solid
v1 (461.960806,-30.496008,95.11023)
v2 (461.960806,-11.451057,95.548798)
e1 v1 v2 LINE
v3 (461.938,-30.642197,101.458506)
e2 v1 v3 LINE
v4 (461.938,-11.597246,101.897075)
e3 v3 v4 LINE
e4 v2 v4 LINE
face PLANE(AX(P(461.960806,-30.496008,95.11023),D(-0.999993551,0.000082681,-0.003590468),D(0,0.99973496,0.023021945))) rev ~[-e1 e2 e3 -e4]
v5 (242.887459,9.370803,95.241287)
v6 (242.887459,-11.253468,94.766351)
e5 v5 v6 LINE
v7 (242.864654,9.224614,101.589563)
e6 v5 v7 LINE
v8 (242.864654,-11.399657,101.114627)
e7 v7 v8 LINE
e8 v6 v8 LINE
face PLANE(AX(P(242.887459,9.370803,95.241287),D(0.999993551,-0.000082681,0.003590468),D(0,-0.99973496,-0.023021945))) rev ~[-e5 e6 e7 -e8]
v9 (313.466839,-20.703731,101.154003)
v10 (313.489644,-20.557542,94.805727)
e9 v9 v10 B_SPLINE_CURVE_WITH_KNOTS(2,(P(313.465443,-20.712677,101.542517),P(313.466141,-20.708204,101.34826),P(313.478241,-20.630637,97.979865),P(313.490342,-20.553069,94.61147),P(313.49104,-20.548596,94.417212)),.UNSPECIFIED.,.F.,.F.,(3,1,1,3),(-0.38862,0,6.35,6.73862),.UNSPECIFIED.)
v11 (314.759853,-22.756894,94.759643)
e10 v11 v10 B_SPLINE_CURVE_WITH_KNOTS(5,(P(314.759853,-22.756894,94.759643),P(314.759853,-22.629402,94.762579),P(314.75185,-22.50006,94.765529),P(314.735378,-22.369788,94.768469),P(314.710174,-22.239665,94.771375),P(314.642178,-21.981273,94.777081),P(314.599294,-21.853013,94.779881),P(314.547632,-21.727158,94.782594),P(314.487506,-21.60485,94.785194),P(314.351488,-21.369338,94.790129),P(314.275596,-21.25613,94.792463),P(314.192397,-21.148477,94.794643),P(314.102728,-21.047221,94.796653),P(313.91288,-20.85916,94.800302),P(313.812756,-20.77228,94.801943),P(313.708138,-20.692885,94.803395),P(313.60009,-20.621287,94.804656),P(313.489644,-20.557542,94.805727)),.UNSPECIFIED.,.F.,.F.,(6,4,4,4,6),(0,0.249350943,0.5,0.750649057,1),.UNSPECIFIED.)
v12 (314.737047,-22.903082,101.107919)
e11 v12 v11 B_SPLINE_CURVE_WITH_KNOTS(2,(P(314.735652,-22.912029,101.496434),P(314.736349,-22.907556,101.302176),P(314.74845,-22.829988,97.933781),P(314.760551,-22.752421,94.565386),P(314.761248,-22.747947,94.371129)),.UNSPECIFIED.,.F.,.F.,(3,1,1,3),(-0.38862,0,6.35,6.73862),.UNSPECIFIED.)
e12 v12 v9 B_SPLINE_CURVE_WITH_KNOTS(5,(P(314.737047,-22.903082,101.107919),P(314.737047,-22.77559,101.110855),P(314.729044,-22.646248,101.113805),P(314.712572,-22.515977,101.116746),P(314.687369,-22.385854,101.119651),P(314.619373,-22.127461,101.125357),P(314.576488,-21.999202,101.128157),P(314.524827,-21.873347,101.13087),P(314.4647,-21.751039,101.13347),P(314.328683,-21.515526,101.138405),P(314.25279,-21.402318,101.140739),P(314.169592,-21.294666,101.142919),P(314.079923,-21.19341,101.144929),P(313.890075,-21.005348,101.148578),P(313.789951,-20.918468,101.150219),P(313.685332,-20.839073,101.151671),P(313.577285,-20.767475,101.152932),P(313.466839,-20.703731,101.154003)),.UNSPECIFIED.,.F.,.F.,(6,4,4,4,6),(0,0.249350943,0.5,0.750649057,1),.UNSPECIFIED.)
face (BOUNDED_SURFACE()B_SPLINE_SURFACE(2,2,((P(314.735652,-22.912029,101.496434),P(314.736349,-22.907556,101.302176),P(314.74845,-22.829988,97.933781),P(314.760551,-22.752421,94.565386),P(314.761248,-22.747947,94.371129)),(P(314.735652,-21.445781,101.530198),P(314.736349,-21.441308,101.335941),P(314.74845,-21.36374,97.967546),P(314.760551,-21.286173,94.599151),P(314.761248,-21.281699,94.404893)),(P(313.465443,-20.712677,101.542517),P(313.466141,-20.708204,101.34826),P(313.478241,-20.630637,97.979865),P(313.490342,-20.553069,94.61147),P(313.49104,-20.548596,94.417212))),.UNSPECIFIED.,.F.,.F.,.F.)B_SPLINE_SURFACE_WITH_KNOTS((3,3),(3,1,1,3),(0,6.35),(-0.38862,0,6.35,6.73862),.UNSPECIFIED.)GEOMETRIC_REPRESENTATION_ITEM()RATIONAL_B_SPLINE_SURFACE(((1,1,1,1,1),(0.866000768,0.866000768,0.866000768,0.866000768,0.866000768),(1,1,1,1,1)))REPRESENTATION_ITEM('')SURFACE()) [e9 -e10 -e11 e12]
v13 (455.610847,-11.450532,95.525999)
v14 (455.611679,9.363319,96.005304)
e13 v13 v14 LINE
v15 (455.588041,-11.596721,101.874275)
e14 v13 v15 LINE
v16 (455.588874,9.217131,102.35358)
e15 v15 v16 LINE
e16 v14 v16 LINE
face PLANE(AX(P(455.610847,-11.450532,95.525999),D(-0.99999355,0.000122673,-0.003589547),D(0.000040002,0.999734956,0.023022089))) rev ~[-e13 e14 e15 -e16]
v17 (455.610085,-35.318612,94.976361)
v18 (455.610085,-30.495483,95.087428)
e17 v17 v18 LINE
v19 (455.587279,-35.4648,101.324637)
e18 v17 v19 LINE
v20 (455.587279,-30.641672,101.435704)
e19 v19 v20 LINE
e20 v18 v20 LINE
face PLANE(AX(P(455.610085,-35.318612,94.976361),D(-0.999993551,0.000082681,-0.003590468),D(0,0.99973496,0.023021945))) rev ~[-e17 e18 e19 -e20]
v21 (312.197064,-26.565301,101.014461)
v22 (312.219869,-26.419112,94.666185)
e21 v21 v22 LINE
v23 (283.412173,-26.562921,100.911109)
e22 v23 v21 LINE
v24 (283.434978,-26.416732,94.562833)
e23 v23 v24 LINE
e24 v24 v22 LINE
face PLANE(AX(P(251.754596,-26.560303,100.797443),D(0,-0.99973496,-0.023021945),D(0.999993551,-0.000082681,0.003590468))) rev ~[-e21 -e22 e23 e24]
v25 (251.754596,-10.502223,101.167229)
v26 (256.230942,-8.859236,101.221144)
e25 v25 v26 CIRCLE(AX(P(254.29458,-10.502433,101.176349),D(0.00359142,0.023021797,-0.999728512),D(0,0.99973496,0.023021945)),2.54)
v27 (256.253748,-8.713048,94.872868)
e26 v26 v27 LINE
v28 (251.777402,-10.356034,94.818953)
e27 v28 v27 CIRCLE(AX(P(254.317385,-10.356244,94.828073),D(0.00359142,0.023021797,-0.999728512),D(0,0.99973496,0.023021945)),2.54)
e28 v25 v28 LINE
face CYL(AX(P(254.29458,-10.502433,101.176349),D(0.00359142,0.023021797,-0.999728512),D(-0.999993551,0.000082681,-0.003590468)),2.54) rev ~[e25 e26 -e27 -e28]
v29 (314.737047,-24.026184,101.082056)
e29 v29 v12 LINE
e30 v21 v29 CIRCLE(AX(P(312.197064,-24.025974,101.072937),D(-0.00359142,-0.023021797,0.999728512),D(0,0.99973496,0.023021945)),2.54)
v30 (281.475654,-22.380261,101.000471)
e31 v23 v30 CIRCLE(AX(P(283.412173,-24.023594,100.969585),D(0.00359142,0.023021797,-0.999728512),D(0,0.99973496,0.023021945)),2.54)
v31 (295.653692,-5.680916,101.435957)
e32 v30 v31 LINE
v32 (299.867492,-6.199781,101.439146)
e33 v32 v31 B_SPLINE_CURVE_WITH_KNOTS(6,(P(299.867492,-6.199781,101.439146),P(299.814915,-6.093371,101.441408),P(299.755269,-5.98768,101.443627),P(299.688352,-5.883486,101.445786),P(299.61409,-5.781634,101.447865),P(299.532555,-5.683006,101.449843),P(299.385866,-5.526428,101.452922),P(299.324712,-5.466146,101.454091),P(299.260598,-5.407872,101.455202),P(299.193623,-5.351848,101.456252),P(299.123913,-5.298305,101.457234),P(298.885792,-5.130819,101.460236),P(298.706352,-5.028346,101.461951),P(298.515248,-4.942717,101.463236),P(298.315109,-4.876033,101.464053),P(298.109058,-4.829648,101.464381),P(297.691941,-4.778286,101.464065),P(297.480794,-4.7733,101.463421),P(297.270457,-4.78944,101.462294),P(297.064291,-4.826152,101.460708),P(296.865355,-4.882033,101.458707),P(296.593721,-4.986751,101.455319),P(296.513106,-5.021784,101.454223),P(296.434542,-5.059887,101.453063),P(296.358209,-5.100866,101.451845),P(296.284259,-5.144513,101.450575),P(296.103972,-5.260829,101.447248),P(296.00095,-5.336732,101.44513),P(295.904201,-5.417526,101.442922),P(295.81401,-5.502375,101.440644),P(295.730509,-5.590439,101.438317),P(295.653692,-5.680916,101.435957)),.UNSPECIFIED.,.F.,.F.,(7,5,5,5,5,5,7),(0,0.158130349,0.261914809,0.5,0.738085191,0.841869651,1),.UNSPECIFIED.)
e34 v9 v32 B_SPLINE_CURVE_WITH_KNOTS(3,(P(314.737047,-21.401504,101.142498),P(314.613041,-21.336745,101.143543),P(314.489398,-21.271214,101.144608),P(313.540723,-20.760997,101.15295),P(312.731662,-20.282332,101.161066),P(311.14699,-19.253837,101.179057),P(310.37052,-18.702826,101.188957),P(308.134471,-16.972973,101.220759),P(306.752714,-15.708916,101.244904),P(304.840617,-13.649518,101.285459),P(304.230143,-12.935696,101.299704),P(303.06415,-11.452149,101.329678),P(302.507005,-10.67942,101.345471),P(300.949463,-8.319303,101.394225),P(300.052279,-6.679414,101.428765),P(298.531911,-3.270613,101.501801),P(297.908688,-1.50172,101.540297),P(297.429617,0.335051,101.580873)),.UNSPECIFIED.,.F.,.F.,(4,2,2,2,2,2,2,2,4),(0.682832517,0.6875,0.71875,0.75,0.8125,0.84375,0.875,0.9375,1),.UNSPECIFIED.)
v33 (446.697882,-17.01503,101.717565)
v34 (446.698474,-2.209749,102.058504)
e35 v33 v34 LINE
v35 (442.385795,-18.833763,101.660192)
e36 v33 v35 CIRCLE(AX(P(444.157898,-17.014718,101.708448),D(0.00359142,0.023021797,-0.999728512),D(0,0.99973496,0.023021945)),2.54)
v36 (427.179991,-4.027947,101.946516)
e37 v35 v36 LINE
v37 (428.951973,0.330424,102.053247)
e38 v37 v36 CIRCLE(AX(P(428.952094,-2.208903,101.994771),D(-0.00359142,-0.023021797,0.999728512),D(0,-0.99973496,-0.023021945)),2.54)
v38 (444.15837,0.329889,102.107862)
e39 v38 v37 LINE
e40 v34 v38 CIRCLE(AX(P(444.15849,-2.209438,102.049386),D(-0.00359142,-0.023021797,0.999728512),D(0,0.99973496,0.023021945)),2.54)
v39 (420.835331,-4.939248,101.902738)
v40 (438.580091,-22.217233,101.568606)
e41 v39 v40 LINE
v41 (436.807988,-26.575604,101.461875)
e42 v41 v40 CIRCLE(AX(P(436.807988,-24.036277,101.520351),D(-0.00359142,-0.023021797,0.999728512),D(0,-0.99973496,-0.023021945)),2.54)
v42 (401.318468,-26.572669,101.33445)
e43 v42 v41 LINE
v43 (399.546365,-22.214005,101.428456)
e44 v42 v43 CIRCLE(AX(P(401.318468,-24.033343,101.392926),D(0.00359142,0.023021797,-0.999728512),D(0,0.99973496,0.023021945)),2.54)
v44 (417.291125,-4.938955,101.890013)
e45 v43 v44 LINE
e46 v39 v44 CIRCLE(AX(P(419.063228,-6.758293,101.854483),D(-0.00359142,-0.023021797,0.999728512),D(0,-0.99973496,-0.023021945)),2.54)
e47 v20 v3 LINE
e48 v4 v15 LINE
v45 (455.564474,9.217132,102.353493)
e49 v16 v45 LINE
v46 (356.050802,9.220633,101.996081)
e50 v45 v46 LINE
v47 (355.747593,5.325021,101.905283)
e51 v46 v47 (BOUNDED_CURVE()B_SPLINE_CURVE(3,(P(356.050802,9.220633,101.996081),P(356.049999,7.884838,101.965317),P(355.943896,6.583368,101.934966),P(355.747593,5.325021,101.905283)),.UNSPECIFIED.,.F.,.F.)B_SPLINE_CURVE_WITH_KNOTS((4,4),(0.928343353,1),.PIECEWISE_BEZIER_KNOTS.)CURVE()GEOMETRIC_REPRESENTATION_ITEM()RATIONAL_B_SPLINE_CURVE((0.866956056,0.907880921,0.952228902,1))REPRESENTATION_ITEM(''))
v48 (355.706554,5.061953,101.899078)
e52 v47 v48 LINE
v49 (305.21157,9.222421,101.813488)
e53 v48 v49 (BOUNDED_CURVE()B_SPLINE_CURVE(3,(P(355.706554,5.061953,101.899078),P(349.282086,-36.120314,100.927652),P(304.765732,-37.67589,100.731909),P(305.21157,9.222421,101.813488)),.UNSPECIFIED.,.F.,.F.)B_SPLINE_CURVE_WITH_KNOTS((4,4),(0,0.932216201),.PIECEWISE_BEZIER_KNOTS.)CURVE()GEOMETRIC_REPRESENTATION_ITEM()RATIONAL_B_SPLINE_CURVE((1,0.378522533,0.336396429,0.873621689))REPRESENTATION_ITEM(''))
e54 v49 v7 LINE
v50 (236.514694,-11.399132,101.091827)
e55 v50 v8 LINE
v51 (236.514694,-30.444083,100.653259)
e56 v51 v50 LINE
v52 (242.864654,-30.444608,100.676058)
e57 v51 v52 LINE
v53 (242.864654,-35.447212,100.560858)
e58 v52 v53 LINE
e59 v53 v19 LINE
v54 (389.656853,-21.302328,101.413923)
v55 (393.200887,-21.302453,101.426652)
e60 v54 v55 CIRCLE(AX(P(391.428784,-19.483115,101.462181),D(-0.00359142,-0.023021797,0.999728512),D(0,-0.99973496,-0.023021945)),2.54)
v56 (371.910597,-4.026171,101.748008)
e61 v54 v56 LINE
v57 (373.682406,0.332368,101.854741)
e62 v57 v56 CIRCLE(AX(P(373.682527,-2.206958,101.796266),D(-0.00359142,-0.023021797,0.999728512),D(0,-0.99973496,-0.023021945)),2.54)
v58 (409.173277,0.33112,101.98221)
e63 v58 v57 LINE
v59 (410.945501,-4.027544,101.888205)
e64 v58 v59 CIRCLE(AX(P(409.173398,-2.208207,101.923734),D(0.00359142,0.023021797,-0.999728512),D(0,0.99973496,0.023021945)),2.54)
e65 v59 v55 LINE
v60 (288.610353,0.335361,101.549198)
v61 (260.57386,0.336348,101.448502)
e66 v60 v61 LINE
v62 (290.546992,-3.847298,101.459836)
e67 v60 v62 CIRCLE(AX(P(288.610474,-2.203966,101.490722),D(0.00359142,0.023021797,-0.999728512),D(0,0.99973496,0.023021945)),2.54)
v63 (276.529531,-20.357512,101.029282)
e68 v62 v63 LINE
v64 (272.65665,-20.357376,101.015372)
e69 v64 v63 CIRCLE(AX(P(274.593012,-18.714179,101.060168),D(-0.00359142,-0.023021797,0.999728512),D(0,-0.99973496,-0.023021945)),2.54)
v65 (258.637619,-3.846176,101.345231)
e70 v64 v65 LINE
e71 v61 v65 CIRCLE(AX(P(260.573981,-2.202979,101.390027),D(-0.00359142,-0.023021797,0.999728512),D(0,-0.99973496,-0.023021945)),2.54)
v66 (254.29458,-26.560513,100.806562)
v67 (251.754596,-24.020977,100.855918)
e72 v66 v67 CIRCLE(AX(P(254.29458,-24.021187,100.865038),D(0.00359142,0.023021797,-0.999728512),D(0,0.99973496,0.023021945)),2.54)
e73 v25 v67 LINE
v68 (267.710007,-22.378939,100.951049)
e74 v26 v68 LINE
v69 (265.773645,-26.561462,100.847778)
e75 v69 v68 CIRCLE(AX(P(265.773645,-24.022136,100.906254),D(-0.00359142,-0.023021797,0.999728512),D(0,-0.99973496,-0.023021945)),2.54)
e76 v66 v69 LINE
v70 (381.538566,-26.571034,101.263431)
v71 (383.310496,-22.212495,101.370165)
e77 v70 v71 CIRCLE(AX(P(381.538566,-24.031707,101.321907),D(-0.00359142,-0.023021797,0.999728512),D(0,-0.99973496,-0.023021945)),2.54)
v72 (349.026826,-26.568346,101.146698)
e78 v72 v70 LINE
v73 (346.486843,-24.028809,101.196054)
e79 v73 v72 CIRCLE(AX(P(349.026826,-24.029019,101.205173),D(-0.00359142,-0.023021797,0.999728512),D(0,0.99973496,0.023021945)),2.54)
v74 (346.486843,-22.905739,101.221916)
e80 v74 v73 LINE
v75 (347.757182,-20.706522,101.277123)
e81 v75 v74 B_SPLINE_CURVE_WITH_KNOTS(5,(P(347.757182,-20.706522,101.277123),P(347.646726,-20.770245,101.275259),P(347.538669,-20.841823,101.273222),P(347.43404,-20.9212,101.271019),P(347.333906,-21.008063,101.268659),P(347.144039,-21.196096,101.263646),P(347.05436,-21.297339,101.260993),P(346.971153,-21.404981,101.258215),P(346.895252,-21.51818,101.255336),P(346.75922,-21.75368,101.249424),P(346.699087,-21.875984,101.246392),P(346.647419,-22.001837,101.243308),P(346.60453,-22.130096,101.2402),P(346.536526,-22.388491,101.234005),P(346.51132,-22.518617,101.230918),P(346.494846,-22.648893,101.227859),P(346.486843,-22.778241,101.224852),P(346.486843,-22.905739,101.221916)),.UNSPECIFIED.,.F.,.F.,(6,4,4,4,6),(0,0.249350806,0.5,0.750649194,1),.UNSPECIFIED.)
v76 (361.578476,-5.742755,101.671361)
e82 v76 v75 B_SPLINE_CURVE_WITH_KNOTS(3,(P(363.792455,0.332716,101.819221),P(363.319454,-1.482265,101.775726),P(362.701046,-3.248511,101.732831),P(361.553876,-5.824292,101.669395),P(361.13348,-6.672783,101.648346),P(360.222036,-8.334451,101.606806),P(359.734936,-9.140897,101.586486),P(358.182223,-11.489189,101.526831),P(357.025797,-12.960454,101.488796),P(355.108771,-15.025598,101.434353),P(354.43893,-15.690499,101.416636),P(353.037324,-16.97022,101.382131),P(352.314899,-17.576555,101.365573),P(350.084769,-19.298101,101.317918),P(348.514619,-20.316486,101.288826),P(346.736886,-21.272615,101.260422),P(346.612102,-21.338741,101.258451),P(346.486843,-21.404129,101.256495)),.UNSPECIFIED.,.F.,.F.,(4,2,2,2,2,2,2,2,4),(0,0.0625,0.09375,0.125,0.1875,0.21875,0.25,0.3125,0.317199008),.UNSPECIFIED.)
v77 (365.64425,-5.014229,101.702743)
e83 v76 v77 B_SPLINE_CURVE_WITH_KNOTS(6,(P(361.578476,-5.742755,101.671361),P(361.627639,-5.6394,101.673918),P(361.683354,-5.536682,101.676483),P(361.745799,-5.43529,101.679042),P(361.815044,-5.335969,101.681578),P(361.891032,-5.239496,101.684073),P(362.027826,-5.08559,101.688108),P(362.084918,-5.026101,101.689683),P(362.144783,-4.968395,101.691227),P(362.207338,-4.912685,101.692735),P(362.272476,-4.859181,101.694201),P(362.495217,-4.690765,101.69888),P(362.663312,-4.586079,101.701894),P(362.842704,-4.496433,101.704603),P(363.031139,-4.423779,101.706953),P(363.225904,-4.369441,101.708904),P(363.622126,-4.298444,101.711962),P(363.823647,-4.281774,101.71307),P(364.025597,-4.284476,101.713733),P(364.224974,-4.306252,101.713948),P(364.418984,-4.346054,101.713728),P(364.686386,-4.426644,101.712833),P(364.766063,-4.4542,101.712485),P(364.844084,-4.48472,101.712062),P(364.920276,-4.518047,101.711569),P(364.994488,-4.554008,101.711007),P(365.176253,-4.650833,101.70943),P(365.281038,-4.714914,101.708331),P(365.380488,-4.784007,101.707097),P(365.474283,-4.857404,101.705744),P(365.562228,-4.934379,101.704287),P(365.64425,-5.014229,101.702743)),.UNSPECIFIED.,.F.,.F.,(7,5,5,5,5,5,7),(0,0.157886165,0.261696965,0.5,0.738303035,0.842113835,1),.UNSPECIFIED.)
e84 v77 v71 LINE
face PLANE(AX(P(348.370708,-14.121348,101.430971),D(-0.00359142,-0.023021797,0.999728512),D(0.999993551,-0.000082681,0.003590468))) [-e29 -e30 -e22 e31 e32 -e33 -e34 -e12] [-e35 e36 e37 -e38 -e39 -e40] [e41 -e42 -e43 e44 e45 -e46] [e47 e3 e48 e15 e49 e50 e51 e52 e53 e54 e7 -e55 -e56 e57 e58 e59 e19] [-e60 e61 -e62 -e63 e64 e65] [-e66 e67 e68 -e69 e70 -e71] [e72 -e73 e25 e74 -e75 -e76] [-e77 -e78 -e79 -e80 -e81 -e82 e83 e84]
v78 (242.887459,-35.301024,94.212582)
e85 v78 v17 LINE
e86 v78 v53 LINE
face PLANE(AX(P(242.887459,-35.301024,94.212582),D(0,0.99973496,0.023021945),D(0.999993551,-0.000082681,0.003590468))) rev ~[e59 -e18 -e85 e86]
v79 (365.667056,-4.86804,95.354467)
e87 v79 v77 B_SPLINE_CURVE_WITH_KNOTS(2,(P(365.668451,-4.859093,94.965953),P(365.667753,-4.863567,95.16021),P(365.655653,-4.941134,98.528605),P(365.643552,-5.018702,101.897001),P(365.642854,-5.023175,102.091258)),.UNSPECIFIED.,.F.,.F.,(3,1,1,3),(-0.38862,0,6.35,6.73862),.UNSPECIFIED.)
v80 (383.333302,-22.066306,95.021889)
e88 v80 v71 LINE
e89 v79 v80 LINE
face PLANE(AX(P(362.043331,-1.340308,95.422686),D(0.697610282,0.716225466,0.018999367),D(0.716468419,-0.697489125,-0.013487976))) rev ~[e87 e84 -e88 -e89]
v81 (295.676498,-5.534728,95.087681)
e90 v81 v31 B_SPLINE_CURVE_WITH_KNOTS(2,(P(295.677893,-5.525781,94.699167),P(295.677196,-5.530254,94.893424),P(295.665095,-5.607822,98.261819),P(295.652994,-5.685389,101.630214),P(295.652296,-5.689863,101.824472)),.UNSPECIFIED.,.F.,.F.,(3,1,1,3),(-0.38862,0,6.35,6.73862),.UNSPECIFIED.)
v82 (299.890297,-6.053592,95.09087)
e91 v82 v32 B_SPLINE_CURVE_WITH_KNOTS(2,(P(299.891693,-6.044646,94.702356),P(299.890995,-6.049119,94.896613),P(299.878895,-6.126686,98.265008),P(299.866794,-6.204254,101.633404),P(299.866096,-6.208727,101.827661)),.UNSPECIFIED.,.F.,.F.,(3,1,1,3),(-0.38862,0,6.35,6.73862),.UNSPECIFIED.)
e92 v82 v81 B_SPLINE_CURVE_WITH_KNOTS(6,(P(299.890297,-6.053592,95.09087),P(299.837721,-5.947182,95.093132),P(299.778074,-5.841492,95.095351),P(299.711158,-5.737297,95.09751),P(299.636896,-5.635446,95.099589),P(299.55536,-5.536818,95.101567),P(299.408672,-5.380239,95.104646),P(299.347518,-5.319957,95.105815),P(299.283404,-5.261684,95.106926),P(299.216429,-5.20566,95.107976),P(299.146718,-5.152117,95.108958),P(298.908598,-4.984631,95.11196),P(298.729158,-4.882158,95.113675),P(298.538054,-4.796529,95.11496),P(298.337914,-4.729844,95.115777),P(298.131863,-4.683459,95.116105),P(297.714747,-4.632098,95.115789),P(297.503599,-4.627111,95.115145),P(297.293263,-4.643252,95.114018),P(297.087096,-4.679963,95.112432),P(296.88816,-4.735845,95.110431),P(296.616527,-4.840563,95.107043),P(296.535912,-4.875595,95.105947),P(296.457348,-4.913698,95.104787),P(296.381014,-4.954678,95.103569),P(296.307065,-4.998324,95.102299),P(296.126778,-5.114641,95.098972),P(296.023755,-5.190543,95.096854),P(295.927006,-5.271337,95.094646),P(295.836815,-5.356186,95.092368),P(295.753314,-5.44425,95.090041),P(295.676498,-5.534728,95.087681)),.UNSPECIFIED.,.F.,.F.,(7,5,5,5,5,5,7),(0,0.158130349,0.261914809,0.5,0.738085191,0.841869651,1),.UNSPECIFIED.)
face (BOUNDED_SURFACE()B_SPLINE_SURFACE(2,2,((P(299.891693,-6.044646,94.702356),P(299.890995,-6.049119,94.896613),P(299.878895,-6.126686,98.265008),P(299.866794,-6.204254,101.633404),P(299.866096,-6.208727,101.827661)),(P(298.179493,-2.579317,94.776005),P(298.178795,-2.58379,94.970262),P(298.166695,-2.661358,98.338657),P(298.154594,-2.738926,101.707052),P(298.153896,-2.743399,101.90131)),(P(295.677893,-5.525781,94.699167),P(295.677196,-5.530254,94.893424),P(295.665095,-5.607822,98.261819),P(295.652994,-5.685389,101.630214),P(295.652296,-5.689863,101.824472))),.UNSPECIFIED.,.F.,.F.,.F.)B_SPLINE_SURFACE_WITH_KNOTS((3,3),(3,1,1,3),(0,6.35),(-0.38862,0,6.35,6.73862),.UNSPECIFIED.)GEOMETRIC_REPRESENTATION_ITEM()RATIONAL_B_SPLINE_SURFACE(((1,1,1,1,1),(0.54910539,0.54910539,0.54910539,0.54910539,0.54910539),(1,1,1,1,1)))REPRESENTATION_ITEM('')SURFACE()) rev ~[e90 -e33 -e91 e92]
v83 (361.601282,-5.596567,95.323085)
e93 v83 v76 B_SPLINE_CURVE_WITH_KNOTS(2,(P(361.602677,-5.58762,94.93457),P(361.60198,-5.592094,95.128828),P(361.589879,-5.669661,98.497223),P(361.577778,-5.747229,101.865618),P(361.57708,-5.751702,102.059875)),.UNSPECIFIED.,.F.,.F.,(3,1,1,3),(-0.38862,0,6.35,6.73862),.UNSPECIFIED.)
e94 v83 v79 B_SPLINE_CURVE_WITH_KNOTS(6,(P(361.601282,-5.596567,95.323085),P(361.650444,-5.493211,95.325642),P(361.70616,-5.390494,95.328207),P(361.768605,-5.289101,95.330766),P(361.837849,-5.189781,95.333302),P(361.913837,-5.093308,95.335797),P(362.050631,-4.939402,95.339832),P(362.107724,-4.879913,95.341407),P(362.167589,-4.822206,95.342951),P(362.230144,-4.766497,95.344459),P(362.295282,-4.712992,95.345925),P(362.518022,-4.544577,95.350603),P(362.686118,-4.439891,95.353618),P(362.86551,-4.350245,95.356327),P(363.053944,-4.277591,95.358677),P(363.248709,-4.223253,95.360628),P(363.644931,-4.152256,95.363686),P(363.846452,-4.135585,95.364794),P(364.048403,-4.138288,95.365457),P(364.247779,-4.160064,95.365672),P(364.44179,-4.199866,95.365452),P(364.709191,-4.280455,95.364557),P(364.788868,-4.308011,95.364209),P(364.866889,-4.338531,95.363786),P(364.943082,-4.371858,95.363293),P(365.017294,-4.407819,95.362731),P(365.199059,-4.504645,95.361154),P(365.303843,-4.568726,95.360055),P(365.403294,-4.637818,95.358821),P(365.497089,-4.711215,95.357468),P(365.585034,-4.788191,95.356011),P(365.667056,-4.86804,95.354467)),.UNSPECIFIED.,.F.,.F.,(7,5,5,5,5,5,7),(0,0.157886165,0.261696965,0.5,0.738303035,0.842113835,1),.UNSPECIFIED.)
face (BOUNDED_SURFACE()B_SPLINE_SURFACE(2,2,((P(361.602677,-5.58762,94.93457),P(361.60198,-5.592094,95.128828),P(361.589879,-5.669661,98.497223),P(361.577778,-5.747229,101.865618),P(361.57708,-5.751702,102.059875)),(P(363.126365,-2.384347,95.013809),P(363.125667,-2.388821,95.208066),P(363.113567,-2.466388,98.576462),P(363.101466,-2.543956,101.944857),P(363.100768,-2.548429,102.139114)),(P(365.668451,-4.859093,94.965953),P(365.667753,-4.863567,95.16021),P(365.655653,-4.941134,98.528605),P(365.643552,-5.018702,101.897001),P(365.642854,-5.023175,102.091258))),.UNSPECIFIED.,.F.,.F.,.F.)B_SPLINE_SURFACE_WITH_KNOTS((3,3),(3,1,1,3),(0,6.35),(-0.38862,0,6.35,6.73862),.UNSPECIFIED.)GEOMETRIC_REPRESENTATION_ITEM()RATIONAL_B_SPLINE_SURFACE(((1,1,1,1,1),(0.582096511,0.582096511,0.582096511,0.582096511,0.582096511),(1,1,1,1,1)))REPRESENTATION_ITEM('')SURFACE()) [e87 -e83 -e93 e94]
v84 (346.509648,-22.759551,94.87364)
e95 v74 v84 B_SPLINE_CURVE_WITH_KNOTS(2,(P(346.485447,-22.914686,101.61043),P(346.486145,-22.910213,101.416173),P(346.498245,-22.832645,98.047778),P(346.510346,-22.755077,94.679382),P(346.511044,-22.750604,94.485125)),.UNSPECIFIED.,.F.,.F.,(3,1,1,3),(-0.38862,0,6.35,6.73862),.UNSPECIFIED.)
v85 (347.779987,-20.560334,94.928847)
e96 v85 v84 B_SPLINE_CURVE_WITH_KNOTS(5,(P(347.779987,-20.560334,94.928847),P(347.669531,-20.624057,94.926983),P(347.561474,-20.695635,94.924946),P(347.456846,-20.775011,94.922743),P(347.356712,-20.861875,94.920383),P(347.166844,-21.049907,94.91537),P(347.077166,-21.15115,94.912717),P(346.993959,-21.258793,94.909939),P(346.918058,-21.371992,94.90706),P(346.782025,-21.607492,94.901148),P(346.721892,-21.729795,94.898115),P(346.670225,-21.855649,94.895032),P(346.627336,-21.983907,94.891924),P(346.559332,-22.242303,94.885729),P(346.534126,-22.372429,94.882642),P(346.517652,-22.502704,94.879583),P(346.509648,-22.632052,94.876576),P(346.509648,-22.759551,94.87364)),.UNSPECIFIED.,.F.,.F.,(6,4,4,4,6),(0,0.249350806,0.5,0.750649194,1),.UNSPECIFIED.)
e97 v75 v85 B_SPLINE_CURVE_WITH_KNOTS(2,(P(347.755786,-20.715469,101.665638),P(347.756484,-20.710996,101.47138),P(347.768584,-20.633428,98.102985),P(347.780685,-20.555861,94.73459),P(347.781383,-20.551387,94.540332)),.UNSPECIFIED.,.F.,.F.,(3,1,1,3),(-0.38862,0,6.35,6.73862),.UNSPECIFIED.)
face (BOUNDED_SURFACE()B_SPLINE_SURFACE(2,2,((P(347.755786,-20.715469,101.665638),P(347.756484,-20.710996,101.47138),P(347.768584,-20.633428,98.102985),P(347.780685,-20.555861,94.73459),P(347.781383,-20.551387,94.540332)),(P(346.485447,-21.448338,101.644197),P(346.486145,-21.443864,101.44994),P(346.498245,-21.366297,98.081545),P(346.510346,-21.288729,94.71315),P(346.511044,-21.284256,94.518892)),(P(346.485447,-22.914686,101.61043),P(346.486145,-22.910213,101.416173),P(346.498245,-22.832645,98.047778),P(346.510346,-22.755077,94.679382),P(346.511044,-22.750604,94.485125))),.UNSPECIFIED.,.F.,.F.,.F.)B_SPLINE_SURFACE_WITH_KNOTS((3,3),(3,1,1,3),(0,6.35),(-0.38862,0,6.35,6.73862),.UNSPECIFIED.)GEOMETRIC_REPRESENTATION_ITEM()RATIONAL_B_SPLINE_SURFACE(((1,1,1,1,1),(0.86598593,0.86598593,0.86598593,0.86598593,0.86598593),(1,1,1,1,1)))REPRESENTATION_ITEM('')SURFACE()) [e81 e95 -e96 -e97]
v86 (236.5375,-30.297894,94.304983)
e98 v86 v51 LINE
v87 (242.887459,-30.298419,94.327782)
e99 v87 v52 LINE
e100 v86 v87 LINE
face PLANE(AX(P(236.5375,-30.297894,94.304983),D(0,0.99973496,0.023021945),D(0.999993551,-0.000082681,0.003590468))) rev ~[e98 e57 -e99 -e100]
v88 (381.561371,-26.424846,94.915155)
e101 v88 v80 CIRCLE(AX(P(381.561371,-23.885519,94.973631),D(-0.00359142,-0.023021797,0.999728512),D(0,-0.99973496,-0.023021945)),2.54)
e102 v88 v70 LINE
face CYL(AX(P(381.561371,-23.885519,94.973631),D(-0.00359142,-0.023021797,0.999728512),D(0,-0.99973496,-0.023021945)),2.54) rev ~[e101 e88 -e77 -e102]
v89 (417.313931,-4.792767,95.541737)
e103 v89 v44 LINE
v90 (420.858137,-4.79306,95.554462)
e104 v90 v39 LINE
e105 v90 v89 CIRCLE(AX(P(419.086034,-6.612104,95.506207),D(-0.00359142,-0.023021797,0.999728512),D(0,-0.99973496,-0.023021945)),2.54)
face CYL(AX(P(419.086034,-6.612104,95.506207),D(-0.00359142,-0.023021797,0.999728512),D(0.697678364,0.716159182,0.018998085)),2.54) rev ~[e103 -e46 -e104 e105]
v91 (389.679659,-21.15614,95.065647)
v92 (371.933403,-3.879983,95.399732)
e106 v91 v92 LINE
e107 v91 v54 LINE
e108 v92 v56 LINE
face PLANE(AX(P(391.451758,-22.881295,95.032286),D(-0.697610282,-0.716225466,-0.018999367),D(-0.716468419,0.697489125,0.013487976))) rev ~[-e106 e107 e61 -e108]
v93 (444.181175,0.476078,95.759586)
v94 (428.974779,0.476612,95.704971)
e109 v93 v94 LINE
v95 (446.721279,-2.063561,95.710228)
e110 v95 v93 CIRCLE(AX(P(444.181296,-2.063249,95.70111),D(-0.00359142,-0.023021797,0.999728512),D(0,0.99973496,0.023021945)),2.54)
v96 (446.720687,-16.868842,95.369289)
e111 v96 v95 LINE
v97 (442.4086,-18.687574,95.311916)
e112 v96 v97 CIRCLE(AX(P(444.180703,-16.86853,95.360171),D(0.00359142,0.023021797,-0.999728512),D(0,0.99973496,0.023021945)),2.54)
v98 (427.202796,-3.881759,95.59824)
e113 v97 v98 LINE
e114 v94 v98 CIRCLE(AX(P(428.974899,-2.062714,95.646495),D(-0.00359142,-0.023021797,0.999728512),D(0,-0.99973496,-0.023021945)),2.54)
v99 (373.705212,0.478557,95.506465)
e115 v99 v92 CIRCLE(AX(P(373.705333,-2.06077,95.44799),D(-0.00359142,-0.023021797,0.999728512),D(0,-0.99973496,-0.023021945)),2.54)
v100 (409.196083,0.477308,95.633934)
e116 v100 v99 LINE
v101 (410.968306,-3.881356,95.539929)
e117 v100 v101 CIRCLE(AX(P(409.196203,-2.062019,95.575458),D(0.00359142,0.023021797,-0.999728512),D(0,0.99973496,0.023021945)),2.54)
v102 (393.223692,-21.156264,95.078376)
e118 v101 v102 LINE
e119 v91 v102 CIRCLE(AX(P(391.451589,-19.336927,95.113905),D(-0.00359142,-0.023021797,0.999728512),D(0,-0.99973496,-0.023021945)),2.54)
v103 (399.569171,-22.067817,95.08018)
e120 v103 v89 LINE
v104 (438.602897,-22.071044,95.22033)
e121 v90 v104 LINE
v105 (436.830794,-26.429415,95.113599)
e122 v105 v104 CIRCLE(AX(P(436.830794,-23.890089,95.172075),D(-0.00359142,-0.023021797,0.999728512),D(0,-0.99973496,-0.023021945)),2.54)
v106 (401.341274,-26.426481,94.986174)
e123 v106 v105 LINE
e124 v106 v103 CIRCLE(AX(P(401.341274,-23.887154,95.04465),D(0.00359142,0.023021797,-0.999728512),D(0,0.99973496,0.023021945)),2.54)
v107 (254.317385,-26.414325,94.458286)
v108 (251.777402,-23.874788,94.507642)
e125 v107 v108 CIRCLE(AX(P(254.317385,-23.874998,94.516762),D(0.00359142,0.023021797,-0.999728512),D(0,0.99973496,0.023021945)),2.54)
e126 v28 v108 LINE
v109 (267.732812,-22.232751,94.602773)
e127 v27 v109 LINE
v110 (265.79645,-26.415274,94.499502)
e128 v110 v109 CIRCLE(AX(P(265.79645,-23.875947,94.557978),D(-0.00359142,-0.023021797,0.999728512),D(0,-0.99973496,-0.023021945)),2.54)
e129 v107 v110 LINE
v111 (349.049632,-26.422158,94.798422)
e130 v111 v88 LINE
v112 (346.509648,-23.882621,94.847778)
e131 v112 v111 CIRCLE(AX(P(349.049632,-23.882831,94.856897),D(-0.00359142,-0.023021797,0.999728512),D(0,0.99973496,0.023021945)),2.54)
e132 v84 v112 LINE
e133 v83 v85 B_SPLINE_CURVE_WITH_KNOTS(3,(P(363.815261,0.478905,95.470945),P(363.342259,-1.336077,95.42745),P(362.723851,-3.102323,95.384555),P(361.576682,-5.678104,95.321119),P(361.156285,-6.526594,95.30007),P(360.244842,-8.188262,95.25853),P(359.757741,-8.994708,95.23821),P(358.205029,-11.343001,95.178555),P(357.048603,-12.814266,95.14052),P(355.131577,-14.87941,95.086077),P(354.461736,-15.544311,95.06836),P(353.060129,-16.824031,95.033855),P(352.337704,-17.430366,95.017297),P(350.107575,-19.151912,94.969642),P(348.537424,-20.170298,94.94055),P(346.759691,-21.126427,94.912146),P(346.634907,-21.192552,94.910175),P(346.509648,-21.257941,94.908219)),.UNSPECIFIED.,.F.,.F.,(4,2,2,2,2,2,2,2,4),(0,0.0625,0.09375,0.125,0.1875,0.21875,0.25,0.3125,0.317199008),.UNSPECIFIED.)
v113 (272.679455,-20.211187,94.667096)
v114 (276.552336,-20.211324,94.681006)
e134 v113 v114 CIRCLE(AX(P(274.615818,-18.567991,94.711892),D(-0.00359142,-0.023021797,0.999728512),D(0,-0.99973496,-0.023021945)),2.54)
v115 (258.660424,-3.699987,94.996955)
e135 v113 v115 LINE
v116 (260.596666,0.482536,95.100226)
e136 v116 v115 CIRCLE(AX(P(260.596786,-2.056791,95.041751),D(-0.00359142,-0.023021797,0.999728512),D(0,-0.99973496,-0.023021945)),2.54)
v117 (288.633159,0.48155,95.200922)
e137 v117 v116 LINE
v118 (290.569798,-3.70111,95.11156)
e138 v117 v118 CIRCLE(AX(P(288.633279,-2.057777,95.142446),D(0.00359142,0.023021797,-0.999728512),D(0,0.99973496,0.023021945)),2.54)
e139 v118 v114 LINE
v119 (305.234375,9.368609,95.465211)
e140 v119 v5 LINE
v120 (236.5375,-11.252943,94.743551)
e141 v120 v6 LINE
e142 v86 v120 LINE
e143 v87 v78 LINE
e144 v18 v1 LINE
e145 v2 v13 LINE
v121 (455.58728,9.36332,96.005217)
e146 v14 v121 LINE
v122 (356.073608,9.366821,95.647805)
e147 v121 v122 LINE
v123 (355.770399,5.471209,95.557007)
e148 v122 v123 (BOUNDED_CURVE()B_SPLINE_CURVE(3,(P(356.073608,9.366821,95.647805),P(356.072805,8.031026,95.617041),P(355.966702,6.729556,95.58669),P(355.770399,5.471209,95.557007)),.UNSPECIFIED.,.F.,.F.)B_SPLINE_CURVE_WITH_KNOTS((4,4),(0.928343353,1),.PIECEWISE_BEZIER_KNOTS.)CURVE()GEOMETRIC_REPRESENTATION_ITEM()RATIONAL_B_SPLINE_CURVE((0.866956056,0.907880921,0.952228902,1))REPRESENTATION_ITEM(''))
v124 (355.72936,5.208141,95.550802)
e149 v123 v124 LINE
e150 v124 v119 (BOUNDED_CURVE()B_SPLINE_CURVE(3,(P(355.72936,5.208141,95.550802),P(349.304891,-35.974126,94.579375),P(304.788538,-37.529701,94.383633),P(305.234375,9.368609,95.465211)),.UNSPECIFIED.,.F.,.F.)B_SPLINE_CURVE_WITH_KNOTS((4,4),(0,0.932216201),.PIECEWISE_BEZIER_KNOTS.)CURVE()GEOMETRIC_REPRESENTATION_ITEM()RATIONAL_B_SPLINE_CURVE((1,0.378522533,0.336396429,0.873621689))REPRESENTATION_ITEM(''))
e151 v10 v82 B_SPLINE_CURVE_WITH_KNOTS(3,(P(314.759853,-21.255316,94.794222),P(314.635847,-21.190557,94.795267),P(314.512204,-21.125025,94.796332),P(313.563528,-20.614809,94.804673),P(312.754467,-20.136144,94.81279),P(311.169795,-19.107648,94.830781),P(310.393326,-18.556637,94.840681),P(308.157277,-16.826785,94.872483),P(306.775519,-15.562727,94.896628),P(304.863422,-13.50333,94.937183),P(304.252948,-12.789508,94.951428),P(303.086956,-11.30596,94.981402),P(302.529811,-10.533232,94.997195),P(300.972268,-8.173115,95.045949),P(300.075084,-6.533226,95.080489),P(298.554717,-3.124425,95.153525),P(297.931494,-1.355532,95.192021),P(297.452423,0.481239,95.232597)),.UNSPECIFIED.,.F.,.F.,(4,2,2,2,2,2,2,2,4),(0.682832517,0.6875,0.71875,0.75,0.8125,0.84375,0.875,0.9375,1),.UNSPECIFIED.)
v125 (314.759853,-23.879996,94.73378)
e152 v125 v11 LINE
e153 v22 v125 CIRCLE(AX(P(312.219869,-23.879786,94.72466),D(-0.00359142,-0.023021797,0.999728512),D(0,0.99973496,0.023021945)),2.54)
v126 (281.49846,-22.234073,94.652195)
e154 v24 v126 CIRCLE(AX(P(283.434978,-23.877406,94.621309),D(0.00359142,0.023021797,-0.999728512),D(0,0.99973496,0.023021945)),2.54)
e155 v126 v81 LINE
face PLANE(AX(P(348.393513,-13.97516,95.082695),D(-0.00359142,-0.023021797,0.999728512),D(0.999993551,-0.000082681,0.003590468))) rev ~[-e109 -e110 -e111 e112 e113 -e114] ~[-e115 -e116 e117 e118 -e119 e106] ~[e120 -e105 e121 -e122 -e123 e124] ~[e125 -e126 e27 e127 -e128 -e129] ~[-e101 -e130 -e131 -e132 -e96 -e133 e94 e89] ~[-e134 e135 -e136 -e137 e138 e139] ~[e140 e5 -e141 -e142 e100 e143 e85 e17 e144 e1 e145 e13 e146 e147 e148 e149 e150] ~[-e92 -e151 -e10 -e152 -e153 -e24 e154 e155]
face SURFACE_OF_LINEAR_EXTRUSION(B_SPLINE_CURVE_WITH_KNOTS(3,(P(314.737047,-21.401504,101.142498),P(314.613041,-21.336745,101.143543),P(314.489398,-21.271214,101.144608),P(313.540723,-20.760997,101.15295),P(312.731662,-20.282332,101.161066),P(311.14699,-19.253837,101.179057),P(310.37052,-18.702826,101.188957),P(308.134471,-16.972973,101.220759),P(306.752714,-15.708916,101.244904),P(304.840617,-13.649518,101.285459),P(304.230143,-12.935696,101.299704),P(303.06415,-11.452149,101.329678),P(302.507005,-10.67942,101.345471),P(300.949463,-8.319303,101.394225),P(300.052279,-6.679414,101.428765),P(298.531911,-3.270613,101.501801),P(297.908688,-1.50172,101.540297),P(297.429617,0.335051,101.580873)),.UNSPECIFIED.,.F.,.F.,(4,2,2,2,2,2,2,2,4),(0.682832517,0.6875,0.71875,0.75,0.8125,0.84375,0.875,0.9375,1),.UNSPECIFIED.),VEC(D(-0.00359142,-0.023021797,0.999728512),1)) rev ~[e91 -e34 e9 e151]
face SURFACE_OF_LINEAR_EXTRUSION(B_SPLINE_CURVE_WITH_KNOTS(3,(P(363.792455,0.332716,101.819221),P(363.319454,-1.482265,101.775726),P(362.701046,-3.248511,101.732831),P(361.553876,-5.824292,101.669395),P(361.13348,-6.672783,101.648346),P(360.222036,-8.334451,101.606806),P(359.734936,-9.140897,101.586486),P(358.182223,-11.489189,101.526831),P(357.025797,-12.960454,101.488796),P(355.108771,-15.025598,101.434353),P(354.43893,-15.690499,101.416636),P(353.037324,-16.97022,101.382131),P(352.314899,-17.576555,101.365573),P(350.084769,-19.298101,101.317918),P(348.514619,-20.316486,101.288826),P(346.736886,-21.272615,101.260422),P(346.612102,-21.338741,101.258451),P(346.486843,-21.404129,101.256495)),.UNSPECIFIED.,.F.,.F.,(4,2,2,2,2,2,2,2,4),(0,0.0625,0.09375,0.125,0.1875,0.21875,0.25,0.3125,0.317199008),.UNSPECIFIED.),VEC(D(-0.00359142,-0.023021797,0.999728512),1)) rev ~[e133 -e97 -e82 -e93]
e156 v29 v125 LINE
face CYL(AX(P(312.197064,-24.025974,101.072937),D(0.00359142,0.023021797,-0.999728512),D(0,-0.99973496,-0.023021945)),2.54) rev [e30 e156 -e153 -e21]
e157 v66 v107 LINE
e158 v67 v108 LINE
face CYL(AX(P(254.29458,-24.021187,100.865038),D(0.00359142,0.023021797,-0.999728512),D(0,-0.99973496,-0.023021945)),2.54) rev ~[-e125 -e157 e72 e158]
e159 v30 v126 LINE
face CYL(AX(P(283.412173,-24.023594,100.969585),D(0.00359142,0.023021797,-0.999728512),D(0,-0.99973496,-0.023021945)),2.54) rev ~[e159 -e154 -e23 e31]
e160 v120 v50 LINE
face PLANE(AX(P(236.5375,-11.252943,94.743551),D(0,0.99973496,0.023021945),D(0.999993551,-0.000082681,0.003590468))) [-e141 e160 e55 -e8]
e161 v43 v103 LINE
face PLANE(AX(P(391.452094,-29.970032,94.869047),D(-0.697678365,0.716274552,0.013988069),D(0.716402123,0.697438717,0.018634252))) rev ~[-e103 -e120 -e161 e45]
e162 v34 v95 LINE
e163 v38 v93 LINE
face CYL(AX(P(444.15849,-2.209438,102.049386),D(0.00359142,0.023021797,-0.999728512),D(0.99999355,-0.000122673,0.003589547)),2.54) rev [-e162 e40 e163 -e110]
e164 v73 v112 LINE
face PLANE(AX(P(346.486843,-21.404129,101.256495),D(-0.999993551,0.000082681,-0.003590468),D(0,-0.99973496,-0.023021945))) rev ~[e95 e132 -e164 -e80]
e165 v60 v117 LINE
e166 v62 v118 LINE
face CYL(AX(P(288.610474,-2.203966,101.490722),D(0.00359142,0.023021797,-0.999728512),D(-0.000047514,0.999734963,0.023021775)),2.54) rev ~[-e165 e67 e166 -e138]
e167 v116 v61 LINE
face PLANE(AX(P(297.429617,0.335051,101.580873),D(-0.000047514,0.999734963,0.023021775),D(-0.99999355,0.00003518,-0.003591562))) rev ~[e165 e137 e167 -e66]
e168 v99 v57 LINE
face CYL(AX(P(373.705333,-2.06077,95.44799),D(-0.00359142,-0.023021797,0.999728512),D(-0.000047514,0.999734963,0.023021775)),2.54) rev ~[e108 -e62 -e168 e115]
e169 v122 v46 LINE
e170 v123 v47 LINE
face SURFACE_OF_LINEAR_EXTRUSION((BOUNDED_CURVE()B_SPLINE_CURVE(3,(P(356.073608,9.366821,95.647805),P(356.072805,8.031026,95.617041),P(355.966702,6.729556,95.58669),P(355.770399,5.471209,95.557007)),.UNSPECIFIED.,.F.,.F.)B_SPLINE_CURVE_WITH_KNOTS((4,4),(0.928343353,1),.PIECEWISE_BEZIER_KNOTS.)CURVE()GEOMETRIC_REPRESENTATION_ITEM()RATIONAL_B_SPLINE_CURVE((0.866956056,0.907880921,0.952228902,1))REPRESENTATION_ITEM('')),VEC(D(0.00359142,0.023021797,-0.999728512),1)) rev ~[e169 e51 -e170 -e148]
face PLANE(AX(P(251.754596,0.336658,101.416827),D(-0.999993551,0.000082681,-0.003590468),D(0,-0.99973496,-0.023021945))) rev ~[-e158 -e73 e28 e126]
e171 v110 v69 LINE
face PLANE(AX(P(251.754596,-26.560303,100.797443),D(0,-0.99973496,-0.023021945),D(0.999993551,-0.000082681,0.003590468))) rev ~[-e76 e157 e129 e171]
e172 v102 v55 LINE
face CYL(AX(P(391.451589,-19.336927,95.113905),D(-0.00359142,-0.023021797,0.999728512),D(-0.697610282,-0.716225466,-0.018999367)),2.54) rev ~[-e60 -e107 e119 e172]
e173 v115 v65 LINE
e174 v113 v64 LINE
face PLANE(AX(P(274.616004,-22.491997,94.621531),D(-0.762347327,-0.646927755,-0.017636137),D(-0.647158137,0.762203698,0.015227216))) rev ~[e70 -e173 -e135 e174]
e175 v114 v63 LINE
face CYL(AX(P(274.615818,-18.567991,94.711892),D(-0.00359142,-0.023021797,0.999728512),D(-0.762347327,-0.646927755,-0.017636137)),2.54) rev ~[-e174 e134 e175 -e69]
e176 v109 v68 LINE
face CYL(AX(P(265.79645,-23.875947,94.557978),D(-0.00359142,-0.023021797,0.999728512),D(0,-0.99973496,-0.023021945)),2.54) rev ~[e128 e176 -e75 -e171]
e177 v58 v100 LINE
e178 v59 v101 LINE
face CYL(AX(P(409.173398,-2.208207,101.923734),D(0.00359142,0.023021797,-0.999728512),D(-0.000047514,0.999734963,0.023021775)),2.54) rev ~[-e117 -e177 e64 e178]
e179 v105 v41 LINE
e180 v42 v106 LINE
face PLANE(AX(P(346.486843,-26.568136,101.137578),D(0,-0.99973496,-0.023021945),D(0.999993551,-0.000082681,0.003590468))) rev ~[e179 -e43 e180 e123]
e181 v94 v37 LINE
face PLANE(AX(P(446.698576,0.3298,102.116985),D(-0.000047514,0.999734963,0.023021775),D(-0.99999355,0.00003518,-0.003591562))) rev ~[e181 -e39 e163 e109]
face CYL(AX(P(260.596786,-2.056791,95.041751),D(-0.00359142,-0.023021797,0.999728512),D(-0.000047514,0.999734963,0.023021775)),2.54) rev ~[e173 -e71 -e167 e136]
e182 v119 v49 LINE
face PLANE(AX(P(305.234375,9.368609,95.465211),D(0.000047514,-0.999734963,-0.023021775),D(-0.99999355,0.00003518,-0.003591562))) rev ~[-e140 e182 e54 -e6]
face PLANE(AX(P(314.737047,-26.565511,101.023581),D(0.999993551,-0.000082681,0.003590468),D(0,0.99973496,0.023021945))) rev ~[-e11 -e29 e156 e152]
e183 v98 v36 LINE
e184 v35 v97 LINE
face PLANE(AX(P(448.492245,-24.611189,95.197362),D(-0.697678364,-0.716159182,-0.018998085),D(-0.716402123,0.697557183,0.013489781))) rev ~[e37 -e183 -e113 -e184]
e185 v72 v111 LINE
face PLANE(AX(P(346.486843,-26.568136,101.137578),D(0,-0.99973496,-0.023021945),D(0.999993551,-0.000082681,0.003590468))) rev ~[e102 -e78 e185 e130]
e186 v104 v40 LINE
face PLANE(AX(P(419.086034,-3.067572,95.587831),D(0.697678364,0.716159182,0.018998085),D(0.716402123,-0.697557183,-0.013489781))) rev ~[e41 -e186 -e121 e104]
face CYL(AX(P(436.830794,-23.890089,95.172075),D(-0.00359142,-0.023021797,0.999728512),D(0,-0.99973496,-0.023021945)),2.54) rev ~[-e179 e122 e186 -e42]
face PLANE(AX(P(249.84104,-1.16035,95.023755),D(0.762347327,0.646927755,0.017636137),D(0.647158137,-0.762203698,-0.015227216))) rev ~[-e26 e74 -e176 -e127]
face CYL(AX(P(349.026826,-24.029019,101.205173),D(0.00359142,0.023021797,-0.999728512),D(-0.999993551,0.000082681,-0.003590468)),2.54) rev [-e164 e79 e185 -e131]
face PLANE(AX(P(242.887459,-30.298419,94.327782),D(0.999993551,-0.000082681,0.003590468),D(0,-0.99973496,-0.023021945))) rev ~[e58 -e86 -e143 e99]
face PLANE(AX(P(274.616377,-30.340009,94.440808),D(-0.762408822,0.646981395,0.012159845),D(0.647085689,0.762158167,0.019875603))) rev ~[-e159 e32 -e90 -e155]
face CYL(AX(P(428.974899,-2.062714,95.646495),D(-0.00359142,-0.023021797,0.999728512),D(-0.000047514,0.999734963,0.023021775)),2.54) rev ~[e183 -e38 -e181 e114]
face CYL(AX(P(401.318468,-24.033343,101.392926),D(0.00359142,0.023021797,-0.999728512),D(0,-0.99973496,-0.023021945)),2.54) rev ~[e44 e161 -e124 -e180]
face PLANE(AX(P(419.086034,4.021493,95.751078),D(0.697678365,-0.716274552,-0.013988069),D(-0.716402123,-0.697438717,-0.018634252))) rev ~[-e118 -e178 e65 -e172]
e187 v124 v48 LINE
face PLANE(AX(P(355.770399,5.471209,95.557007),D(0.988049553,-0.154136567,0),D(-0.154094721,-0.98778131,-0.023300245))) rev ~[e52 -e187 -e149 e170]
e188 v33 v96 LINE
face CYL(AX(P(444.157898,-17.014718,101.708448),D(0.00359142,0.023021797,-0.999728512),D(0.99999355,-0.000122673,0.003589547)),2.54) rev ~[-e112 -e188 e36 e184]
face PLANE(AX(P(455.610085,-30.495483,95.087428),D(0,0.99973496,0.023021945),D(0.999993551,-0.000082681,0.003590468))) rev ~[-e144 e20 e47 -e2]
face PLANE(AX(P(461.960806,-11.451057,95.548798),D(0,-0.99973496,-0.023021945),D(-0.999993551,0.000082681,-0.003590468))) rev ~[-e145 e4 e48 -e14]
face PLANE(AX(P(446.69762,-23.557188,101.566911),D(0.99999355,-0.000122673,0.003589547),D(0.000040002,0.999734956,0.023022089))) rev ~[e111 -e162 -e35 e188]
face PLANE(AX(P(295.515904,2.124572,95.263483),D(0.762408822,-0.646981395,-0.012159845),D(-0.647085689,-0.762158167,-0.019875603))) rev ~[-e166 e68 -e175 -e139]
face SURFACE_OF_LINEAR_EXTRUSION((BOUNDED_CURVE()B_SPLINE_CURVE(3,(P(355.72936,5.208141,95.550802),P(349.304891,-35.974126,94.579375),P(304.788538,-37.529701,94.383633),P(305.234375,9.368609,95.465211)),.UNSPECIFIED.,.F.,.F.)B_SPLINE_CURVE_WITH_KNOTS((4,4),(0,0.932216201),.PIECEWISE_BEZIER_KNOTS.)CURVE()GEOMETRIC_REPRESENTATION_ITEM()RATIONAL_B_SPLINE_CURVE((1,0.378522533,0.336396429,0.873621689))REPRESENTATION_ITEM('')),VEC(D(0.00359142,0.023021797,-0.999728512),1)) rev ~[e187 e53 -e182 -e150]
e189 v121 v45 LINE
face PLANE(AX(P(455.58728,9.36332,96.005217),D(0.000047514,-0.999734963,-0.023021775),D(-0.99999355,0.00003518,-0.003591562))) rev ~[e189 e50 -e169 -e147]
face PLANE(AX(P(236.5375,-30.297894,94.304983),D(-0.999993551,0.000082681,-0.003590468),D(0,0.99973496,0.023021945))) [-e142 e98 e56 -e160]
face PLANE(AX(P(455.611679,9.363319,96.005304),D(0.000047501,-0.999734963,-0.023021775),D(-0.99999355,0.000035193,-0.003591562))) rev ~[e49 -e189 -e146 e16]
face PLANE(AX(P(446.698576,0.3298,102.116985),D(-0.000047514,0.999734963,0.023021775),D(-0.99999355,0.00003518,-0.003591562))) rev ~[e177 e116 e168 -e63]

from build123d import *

# Parameters (mm, degrees)
SKETCH1_W           = 6.35
SKETCH1_H           = 19.05
BOSS_EXTRUDE1_DEPTH = 6.35
CUT_EXTRUDE1_DEPTH  = 6.35
EXTRUDE_THIN3_START = -6.35
EXTRUDE_THIN3_DEPTH = 6.35
FILLET2_R           = 2.54


with BuildPart() as part:
    # Sketch1 → Boss-Extrude1 (new body)
    with BuildSketch(Plane(origin=(-0.338050957, -2.166981544, 94.101832391), x_dir=(0.999993551, -8.2681e-05, 0.003590468), z_dir=(-0.00359142, -0.023021797, 0.999728512))):
        with BuildLine():
            Line((243.227078617, -9.06878027), (243.227078617, -28.11878027))
            Line((243.227078617, -28.11878027), (243.227078617, -33.122710711))
            Line((243.227078617, -33.122710711), (455.95107602, -33.122710711))
            Line((455.95107602, -33.122710711), (455.95107602, -28.298303458))
            Line((455.95107602, -28.298303458), (455.951838068, -9.248303458))
            Line((455.951838068, -9.248303458), (455.952670896, 11.571066175))
            Line((455.952670896, 11.571066175), (455.928271144, 11.571065016))
            Line((455.928271144, 11.571065016), (356.413957438, 11.566336687))
            add(Edge.make_bspline(
                [(356.413957438, 11.566336687), (356.413154179, 10.230187882), (356.307050724, 8.928363908), (356.110746239, 7.669666942)],
                knots=[0.928343353, 0.928343353, 0.928343353, 0.928343353, 1, 1, 1, 1], degree=3, weights=[0.866956056, 0.907880921, 0.952228902, 1]))
            Line((356.110746239, 7.669666942), (356.069707191, 7.406526111))
            add(Edge.make_bspline(
                [(356.069707191, 7.406526111), (349.645197224, -33.787190013), (305.128556412, -35.346859606), (305.574396885, 11.563921094)],
                knots=[0, 0, 0, 0, 0.932216201, 0.932216201, 0.932216201, 0.932216201], degree=3, weights=[1, 0.378522533, 0.336396429, 0.873621689]))
            Line((305.574396885, 11.563921094), (243.227078617, 11.56095872))
            Line((243.227078617, 11.56095872), (243.227078617, -9.06878027))
        make_face()
        with Locations((240.052078617, -18.59378027)):
            Rectangle(SKETCH1_W, SKETCH1_H)
        Polygon((455.951838068, -9.248303458), (455.95107602, -28.298303458), (462.301838068, -28.298303458), (462.301838068, -9.248303458), align=None)
    extrude(amount=BOSS_EXTRUDE1_DEPTH)

    # Sketch4 → Cut-Extrude1 (cut)
    with BuildSketch(Plane(origin=(-0.360856472, -2.313169952, 100.450108445), x_dir=(0.999993551, -8.2681e-05, 0.003590468), z_dir=(-0.00359142, -0.023021797, 0.999728512))):
        with BuildLine():
            Line((447.06107602, -24.232710711), (447.061359456, -21.212677023))
            Line((447.061359456, -21.212677023), (447.062315249, 2.680643748))
            Line((447.062315249, 2.680643748), (364.155660196, 2.676704517))
            add(Edge.make_bspline(
                [(364.155660196, 2.676704517), (363.682655748, 0.861202633), (363.064243452, -0.90556276), (361.917066697, -3.482121278), (361.496667699, -4.330871885), (360.585218077, -5.993055638), (360.098114328, -6.79975573), (358.545391798, -9.148799286), (357.388958371, -10.620549815), (355.471920122, -12.686399888), (354.802074961, -13.351532301), (353.400459371, -14.63170826), (352.678029759, -15.238263747), (350.447885909, -16.96045064), (348.877725006, -17.979235773), (347.099980812, -18.935765266), (346.975195928, -19.001918677), (346.849935868, -19.067335155)],
                knots=[0, 0, 0, 0, 0.0625, 0.0625, 0.09375, 0.09375, 0.125, 0.125, 0.1875, 0.1875, 0.21875, 0.21875, 0.25, 0.25, 0.3125, 0.3125, 0.317199008, 0.317199008, 0.317199008, 0.317199008], degree=3))
            Line((346.849935868, -19.067335155), (346.849935868, -24.232710711))
            Line((346.849935868, -24.232710711), (447.06107602, -24.232710711))
        make_face()
        with BuildLine():
            Line((252.117078617, -24.232710711), (315.099935868, -24.232710711))
            Line((315.099935868, -24.232710711), (315.099935868, -19.067335155))
            add(Edge.make_bspline(
                [(315.099935868, -19.067335155), (314.975929033, -19.002569071), (314.852285143, -18.937030581), (313.903603629, -18.426757245), (313.094537504, -17.948032357), (311.509855263, -16.919395321), (310.733380771, -16.36830218), (308.497317264, -14.638176011), (307.115550753, -13.373897611), (305.203441753, -11.314112149), (304.592963657, -10.600151869), (303.426963523, -9.116307482), (302.869814737, -8.343419981), (301.312262481, -5.982806196), (300.415072454, -4.342556455), (298.894695177, -0.932977765), (298.271468298, 0.836332514), (297.792394207, 2.673551329)],
                knots=[0.682832517, 0.682832517, 0.682832517, 0.682832517, 0.6875, 0.6875, 0.71875, 0.71875, 0.75, 0.75, 0.8125, 0.8125, 0.84375, 0.84375, 0.875, 0.875, 0.9375, 0.9375, 1, 1, 1, 1], degree=3))
            Line((297.792394207, 2.673551329), (252.117078617, 2.67138111))
            Line((252.117078617, 2.67138111), (252.117078617, -24.232710711))
        make_face()
    extrude(amount=-CUT_EXTRUDE1_DEPTH, mode=Mode.SUBTRACT)

    # Sketch5 → Extrude-Thin3 (add)
    with BuildSketch(Plane(origin=(-0.360856472, -2.313169952, 100.450108445), x_dir=(0.999993551, -8.2681e-05, 0.003590468), z_dir=(-0.00359142, -0.023021797, 0.999728512)).offset(EXTRUDE_THIN3_START)):
        Polygon((250.180703918, 1.027588841), (274.956201281, -28.157757229), (299.728925104, 1.029943078), (295.85586331, 4.317159581), (274.955828291, -20.307664192), (254.053453316, 4.31517338), align=None)
        Polygon((362.38371865, 0.856862997), (391.792672106, -27.778018594), (419.426789837, -0.86614126), (445.288961546, -26.052383839), (448.833190494, -22.413037583), (419.426789837, 6.224802604), (391.792335202, -20.687402828), (365.927601742, 4.496546037), align=None)
    extrude(amount=EXTRUDE_THIN3_DEPTH)

    # Fillet2
    fillet2_edges = [part.edges().sort_by_distance(p)[0] for p in [
        (298.32854124, -2.470729974, 98.343628252),
        (255.097636261, 0.409634721, 98.254654941),
        (294.109382675, 0.408262278, 98.394768941),
        (251.765998957, -3.514034664, 98.152331935),
        (271.273016149, -26.488822109, 97.693344331),
        (274.60460134, -22.565091347, 97.795668563),
        (277.936290782, -26.489373041, 97.717268759),
        (362.969132405, -2.325780207, 98.579180702),
        (443.068140014, -26.503026473, 98.310173185),
        (395.081122323, -26.49905881, 98.137876228),
        (446.709043574, -22.959091678, 98.404862651),
        (367.44463473, 0.405682327, 98.658158726),
        (415.433854418, 0.403994055, 98.830516083),
        (391.440354753, -22.95438955, 98.206423967),
        (422.715052674, 0.4037379, 98.856667125),
        (419.074631168, -3.140666269, 98.761968583),
        (387.79956879, -26.498456757, 98.111731875),
        (314.748450021, -21.32841022, 97.968359479),
        (314.748450021, -26.492416744, 97.849442487),
        (251.765998957, -26.487209229, 97.623304561),
        (446.709978354, 0.402893753, 98.942846938),
        (346.49824526, -26.495041881, 97.963439843),
        (346.49824526, -21.331035356, 98.082356835),
    ]]
    fillet(fillet2_edges, radius=FILLET2_R)


solid = part.part
